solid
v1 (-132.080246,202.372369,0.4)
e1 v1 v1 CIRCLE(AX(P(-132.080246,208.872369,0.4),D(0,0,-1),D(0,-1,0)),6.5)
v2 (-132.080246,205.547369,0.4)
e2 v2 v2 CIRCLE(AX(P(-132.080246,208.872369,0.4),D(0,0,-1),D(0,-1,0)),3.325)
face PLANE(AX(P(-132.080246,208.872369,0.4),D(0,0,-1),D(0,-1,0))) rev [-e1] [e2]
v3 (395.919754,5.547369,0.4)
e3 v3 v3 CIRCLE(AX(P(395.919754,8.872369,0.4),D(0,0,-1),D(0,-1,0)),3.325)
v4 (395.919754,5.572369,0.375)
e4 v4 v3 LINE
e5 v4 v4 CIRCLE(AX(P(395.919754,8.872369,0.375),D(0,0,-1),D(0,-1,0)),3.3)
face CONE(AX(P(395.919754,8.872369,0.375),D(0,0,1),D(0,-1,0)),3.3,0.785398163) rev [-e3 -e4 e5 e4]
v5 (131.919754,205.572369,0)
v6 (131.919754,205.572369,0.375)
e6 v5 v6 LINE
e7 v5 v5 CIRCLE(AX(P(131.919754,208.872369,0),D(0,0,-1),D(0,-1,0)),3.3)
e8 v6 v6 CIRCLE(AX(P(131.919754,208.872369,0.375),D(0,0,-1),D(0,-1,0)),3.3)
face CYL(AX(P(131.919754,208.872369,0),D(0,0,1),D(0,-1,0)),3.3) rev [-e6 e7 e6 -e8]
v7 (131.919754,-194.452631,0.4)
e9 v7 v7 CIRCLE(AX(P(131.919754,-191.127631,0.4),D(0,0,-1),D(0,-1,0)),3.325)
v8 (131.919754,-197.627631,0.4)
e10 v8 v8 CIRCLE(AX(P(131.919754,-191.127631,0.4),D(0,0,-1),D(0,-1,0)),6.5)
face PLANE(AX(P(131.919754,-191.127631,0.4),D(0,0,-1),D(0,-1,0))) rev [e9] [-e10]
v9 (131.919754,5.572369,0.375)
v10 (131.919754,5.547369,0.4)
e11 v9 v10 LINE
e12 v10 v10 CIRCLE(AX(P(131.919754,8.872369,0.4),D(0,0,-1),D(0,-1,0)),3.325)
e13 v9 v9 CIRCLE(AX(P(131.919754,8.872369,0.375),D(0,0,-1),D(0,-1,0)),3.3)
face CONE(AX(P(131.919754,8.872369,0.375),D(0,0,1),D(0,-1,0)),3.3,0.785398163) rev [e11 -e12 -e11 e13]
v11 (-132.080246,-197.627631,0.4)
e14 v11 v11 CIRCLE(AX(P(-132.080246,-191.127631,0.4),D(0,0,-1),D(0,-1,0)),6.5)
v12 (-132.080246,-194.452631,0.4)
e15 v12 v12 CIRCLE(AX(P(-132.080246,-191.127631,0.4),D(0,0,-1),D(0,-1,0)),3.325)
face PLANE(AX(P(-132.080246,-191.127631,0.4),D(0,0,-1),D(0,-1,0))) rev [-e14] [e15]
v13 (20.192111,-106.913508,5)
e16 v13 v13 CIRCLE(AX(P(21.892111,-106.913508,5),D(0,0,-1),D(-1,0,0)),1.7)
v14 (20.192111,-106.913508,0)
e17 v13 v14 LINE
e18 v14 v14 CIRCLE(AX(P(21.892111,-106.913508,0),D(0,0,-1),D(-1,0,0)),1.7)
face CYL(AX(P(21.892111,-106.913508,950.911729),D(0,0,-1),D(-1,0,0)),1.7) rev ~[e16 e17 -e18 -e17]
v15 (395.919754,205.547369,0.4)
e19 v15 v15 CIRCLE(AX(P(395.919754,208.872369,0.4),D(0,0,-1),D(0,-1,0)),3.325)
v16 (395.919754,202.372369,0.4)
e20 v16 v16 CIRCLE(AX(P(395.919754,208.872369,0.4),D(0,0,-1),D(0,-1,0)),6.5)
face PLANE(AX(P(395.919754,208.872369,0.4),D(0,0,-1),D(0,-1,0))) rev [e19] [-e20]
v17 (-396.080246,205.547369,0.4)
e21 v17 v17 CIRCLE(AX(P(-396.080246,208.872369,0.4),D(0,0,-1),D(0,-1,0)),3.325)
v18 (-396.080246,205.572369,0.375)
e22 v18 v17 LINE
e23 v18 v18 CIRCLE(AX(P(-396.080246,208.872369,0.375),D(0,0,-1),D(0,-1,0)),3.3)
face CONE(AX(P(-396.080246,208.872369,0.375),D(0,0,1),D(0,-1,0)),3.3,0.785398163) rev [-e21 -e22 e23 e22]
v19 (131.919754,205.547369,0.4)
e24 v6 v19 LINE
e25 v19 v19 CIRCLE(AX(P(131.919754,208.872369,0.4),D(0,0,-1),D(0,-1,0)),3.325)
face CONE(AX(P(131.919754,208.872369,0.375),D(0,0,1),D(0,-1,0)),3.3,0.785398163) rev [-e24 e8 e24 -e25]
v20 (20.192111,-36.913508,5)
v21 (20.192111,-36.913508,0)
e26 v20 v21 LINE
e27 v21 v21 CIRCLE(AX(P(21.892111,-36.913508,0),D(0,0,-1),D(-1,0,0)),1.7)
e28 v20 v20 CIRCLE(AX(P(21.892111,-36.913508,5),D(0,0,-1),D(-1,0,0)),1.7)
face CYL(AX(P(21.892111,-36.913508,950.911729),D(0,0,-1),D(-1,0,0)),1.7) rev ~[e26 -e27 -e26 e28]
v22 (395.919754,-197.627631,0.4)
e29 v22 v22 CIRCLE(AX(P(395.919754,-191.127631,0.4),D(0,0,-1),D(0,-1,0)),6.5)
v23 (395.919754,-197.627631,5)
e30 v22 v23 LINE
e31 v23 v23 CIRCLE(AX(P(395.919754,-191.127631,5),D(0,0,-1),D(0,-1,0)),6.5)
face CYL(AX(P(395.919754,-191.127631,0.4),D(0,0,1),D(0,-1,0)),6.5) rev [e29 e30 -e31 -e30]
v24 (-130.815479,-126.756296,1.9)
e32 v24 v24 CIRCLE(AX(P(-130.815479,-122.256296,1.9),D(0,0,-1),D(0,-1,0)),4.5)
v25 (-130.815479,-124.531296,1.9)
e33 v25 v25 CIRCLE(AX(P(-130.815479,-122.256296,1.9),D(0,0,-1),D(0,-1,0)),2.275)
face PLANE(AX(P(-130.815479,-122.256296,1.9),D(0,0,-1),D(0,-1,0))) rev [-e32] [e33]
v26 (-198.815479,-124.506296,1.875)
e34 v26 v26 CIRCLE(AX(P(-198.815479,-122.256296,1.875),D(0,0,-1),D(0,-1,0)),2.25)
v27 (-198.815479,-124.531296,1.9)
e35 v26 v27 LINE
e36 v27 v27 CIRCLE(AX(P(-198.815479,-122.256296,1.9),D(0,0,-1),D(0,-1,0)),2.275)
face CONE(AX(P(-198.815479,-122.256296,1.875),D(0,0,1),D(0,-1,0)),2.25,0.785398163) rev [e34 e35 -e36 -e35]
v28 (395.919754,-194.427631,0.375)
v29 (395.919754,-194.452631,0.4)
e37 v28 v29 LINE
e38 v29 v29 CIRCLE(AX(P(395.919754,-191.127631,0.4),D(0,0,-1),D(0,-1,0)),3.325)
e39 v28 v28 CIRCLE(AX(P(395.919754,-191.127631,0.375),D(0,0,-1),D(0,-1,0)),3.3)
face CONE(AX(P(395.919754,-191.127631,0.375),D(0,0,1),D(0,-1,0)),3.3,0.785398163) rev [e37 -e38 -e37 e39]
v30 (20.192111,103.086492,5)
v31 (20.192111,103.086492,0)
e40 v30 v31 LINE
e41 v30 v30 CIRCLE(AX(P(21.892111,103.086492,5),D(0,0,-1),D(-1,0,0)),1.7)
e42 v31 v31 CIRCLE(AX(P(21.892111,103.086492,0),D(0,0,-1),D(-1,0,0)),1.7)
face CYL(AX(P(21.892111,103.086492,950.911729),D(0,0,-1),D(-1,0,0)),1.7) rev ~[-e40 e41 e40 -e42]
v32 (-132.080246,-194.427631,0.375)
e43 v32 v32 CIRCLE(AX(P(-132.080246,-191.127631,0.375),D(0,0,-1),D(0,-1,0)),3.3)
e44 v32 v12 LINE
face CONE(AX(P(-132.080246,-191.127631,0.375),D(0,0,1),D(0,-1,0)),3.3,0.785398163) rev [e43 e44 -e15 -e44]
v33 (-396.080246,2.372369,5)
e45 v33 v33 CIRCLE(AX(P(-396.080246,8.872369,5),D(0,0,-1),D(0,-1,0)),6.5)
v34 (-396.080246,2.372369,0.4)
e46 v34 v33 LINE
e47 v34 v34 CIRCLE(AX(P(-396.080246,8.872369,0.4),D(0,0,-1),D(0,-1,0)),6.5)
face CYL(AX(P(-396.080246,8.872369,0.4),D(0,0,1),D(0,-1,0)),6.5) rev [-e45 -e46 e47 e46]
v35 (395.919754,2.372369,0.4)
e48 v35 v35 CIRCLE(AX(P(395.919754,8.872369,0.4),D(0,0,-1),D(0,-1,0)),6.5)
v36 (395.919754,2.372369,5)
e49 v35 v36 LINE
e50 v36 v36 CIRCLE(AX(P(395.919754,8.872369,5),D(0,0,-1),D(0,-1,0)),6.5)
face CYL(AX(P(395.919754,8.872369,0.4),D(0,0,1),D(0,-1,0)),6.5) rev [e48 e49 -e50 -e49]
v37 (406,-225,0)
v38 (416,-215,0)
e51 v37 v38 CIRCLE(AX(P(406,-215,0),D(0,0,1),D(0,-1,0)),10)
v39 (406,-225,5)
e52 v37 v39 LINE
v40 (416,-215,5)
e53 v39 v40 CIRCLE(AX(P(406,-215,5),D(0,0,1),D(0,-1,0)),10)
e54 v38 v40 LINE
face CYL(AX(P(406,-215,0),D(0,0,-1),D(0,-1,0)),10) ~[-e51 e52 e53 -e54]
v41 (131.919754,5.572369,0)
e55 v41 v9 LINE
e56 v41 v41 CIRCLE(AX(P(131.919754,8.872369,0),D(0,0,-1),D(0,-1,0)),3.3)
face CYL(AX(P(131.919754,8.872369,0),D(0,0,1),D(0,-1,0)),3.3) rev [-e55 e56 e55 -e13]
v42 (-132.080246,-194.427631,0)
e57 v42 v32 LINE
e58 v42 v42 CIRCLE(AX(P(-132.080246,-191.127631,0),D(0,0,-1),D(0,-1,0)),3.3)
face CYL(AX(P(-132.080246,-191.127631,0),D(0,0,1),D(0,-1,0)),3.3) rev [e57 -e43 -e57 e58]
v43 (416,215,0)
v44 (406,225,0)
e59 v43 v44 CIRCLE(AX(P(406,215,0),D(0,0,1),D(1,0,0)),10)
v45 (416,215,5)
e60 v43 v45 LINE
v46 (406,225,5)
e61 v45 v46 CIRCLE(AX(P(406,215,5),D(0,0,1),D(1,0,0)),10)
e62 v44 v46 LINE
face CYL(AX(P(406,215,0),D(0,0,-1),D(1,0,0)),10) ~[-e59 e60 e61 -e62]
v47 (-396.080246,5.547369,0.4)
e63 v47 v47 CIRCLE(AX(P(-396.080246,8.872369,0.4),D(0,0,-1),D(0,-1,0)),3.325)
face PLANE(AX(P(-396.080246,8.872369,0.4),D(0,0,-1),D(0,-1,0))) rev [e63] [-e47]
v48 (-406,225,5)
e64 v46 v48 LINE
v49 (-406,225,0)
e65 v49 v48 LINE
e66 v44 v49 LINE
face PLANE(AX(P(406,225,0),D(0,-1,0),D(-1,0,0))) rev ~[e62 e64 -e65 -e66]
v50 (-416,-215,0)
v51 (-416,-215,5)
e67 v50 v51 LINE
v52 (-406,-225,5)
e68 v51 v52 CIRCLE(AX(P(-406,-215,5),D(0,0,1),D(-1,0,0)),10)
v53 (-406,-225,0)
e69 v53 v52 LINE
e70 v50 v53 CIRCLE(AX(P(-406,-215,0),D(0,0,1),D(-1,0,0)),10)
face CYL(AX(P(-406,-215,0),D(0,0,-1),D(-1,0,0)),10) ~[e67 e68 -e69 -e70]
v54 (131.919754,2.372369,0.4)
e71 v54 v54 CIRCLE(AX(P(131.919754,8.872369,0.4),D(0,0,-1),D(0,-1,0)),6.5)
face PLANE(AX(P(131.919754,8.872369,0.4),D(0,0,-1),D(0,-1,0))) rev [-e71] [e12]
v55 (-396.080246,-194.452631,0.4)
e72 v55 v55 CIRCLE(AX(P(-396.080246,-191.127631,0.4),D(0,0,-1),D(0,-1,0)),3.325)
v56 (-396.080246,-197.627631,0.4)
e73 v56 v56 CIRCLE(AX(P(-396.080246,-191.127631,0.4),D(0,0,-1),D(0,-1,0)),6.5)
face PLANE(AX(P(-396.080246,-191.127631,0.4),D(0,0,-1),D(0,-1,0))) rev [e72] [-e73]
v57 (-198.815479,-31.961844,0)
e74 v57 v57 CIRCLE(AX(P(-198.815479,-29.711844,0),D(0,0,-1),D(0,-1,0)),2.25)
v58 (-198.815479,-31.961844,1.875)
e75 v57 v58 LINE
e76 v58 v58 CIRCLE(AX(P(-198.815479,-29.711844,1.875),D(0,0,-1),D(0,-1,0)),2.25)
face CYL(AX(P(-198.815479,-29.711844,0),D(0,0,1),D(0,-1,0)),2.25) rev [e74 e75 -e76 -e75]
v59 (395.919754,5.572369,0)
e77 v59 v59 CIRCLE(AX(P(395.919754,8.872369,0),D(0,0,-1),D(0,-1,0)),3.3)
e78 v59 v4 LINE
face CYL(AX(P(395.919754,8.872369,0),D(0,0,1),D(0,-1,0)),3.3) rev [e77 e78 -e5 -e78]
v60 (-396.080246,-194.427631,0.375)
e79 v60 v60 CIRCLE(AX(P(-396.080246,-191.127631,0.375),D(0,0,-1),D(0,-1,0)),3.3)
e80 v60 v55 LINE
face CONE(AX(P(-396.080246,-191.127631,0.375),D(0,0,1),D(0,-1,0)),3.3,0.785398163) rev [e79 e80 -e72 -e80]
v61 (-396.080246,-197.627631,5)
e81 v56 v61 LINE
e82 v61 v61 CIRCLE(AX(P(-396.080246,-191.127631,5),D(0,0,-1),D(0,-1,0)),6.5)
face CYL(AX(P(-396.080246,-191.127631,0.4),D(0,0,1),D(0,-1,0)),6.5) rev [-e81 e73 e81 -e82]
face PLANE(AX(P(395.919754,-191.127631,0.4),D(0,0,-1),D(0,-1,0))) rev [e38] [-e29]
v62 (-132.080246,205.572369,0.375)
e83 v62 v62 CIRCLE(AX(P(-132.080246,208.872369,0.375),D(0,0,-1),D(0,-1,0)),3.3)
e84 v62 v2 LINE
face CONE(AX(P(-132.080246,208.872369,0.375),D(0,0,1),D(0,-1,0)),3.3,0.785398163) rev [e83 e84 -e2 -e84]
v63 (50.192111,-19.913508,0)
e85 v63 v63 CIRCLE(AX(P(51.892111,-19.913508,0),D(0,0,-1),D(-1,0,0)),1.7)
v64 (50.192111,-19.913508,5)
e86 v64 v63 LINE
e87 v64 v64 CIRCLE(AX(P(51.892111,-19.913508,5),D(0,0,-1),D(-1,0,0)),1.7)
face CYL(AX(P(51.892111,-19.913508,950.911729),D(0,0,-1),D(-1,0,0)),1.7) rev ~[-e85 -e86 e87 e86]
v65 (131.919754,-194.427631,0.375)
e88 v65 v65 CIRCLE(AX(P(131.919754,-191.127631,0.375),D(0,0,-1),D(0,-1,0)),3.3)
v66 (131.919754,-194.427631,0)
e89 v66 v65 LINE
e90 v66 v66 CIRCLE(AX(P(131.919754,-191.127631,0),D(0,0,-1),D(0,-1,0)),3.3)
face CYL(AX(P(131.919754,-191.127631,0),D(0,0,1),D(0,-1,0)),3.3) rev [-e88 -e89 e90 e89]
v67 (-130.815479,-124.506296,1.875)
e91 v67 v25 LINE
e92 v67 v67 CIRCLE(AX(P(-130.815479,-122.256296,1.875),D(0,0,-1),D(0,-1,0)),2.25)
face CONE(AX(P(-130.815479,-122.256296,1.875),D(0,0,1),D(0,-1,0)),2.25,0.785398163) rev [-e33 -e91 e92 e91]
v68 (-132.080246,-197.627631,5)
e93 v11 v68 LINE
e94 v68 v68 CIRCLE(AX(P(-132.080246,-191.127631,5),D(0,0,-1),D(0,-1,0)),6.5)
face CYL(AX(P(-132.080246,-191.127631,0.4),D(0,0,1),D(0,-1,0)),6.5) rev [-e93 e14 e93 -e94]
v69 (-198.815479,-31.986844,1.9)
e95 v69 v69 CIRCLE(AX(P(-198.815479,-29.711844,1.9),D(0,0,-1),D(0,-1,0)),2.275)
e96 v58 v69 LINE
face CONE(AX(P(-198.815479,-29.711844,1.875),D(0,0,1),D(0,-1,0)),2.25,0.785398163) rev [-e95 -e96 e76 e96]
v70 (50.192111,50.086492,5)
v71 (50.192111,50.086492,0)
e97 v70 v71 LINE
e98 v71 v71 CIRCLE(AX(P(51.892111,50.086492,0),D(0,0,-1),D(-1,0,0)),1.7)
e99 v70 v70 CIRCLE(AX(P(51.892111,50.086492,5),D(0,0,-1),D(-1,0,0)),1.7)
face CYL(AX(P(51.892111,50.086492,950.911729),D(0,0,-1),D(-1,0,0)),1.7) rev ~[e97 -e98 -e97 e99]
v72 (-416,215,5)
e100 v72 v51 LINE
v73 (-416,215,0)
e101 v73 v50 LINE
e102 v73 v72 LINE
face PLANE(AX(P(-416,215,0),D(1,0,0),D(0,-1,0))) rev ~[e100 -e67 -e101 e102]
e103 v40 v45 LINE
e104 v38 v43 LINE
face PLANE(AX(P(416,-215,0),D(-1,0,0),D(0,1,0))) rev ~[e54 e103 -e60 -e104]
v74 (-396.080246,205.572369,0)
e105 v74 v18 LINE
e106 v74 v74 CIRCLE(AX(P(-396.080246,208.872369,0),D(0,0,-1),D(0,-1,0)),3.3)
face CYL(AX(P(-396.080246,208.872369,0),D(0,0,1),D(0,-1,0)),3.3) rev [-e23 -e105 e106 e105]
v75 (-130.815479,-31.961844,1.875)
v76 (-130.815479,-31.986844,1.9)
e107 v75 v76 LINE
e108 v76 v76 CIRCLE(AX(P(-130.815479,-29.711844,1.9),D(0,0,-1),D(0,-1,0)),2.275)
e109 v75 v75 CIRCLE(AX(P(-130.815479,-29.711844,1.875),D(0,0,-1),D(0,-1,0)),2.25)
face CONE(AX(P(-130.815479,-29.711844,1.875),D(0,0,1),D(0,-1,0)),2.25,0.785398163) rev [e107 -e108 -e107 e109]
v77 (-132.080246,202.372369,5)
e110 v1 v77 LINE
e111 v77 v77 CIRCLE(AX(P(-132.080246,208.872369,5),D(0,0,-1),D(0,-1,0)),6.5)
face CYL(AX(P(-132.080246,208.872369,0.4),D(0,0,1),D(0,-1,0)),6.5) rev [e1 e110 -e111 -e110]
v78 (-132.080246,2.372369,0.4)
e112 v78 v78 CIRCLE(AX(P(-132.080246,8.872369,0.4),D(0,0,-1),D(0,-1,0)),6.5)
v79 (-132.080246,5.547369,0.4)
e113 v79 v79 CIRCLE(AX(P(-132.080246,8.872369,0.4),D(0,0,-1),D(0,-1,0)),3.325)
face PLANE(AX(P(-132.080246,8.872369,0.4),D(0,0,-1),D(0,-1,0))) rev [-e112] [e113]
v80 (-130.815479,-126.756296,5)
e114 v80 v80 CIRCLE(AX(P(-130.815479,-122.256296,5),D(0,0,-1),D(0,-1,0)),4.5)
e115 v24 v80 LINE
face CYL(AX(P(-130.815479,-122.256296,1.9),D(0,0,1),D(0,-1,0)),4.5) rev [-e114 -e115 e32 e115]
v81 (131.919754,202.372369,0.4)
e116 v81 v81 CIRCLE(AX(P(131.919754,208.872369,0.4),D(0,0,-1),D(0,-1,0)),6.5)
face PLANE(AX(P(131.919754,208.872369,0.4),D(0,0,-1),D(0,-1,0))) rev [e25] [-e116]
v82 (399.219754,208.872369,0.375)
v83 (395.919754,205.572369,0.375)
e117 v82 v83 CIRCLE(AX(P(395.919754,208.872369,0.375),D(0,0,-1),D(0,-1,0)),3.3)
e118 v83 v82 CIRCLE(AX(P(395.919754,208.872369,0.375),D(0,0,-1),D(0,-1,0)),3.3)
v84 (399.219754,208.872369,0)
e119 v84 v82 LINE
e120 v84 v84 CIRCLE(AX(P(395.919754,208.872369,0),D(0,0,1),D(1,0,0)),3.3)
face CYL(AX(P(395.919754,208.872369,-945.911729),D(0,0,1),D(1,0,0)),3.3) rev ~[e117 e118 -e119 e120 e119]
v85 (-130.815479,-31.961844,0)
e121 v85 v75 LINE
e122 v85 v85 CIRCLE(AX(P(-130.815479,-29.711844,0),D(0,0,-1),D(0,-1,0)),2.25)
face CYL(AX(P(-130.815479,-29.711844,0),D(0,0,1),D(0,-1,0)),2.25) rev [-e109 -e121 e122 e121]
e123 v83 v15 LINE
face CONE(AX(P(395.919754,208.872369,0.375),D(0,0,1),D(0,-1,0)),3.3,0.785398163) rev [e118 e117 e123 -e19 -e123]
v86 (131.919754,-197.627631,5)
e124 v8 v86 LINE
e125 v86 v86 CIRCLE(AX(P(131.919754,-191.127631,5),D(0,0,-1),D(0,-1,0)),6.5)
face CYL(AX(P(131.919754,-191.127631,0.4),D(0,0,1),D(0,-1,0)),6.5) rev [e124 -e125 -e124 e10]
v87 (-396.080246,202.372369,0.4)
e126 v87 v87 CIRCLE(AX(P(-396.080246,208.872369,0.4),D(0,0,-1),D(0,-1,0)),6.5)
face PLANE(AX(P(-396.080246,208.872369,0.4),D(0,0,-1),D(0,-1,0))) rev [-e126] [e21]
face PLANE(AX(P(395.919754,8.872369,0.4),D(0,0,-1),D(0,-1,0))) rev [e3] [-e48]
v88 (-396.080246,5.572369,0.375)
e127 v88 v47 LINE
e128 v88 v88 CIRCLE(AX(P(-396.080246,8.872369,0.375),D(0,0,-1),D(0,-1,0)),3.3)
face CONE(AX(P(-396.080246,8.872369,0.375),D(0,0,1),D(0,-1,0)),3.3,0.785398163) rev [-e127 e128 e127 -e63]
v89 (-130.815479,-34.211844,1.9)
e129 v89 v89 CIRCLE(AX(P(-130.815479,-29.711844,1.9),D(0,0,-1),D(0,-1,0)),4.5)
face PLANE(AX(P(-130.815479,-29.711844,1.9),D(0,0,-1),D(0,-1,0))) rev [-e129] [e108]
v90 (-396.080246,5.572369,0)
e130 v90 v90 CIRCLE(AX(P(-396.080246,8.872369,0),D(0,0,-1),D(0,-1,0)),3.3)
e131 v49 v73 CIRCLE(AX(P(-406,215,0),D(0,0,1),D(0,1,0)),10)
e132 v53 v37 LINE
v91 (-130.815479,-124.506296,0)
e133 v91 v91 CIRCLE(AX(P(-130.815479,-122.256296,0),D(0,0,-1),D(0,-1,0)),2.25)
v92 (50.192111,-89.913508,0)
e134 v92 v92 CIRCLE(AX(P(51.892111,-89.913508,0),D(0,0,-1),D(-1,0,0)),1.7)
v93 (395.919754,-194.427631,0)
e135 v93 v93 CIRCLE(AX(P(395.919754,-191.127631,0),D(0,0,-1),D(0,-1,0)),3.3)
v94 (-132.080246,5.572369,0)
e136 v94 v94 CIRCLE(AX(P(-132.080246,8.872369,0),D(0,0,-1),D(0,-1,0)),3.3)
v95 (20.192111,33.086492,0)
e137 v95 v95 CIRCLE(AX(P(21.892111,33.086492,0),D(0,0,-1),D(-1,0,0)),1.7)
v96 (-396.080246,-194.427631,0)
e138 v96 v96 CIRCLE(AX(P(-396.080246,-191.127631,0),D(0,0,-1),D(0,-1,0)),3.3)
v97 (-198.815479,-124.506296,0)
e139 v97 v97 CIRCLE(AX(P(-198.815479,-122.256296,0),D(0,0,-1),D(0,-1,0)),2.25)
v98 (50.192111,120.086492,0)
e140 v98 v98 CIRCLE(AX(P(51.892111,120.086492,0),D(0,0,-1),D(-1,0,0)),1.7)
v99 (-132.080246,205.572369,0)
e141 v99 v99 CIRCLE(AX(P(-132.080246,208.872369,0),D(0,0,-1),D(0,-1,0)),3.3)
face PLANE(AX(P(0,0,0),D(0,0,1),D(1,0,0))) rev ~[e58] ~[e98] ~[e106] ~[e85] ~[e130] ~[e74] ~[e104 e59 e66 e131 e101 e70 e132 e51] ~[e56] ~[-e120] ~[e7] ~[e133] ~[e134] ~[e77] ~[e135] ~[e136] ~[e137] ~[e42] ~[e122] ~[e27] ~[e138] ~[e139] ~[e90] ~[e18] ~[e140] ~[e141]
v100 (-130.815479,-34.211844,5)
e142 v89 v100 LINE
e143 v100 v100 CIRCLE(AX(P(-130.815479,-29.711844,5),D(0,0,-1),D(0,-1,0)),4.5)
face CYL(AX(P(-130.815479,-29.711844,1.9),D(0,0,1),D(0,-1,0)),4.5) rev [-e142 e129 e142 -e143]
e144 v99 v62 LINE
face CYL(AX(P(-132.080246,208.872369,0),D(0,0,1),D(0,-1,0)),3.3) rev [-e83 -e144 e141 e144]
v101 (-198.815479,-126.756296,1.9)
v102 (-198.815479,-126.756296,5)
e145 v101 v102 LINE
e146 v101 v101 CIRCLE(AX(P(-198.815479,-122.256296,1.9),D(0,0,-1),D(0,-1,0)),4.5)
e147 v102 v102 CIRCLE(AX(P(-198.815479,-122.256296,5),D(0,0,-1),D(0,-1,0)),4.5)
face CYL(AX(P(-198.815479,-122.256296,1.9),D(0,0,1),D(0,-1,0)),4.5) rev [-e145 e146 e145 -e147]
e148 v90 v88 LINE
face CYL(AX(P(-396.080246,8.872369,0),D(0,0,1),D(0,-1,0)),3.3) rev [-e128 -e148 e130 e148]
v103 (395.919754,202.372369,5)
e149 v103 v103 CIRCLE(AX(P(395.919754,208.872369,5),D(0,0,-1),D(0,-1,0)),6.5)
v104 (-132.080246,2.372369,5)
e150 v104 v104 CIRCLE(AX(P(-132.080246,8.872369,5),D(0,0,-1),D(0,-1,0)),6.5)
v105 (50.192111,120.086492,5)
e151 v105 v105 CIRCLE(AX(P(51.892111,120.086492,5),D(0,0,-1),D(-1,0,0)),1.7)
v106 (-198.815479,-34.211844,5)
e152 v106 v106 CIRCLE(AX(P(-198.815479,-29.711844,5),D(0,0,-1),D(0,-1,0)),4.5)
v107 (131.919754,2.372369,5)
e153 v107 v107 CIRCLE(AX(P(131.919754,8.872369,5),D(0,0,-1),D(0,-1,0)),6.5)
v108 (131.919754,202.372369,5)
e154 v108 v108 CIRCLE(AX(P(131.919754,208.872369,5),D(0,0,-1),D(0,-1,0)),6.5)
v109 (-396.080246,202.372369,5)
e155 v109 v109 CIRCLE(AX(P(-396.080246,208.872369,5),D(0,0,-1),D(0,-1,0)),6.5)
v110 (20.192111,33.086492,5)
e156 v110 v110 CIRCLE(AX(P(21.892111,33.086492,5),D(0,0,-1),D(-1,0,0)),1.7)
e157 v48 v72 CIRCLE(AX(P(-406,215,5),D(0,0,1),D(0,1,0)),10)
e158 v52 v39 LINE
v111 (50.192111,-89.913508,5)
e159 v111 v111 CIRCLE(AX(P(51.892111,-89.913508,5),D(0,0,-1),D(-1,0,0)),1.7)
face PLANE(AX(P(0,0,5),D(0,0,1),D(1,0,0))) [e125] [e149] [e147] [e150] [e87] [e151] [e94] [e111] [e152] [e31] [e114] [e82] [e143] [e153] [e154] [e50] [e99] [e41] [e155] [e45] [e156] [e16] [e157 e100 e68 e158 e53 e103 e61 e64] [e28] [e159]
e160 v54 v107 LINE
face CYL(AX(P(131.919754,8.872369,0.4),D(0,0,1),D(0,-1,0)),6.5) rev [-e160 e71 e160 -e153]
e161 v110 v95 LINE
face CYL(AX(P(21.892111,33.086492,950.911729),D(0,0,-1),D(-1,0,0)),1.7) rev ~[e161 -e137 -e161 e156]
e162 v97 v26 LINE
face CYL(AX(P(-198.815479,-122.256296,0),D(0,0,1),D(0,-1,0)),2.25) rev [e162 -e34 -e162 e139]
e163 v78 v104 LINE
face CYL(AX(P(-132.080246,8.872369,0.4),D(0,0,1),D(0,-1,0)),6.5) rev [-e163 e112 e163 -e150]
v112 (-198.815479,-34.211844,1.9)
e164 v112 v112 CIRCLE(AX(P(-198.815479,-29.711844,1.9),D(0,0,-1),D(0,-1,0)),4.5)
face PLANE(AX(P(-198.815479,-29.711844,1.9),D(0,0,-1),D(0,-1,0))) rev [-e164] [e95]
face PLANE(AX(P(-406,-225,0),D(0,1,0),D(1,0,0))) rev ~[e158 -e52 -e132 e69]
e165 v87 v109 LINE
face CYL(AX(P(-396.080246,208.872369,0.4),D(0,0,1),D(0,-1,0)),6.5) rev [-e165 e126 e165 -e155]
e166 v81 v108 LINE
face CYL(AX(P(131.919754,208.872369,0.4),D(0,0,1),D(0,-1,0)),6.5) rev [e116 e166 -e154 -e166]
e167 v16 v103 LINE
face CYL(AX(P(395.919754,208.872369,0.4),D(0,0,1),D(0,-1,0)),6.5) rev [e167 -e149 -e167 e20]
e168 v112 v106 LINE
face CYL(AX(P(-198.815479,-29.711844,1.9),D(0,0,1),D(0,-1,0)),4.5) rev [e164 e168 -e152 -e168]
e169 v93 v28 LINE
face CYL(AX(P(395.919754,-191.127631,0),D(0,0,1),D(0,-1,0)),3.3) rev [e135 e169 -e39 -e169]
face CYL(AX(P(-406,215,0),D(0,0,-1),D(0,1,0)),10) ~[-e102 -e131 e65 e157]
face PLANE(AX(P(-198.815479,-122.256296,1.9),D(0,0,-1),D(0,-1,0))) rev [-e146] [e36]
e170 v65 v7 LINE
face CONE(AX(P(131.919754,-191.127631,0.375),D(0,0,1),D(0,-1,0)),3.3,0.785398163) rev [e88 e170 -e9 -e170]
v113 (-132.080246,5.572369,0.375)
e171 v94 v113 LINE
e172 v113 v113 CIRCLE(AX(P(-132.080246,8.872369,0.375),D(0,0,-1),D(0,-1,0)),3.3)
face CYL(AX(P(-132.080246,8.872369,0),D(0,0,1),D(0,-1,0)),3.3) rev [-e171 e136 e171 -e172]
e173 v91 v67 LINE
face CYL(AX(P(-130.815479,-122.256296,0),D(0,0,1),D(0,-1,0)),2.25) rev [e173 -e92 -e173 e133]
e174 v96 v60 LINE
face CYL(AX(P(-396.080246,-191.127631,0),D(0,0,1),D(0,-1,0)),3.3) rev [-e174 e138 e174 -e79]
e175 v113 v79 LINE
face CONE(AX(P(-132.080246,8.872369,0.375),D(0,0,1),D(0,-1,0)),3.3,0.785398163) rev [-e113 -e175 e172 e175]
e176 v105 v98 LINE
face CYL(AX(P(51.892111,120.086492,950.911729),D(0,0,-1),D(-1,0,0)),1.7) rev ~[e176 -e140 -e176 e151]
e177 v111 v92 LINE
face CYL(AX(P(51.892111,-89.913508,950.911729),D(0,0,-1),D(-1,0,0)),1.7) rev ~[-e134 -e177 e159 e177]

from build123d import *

# Parameters (mm, degrees)
BOSS_EXTRU_1_DEPTH                           = 5
D_GAGEMENT_M61_D                             = 6.6
R_P_TITION_LIN_AIRE1_COUNT                   = 5
R_P_TITION_LIN_AIRE1_PITCH                   = 100
R_P_TITION_LIN_AIRE1_COUNT_DIR2              = 4
R_P_TITION_LIN_AIRE1_PITCH_DIR2              = 264
CHAMBRAGE_POUR_VIS_T_TE_RONDE_BOMB_2_A_COUNT = 2
CHAMBRAGE_POUR_VIS_T_TE_RONDE_BOMB_2_A_PITCH = 92.544451502
R_P_TITION_LIN_AIRE3_COUNT                   = 2
R_P_TITION_LIN_AIRE3_PITCH                   = 68
M3_CLEARANCE_HOLE1_D                         = 3.4
LPATTERN1_COUNT                              = 4
LPATTERN1_PITCH                              = 70


with BuildPart() as part:
    # Esquisse1 → Boss.-Extru.1 (new body)
    with BuildSketch(Plane.XY):
        with BuildLine():
            Line((-406, -225), (406, -225))
            ThreePointArc((406, -225), (413.071067812, -222.071067812), (416, -215))
            Line((416, -215), (416, 215))
            ThreePointArc((416, 215), (413.071067812, 222.071067812), (406, 225))
            Line((406, 225), (-406, 225))
            ThreePointArc((-406, 225), (-413.071067812, 222.071067812), (-416, 215))
            Line((-416, 215), (-416, -215))
            ThreePointArc((-416, -215), (-413.071067812, -222.071067812), (-406, -225))
        make_face()
    extrude(amount=BOSS_EXTRU_1_DEPTH)

    # Dégagement M61 (through all)
    with Locations(Plane(origin=(0, 0, 0), x_dir=(-1, 0, 0), z_dir=(0, 0, -1))):
        with Locations((-395.919753935, 208.872368656)):
            Hole(D_GAGEMENT_M61_D / 2)

    # Esquisse4 → Chambrage pour vis _ t_te ronde bomb_e M (revolve, cut)
    with BuildSketch(Plane(origin=(395.919753935, 208.872368656, 5), x_dir=(0, -1, 0), z_dir=(1, 0, 0))):
        Polygon((0, 0), (0, 5), (3.3, 5), (3.3, 4.625), (3.325, 4.6), (6.5, 4.6), (6.5, 0), align=None)
    chambrage_pour_vis_t_te_ronde_bomb_e_m = revolve(axis=Axis((395.919753935, 208.872368656, 11.35), (0, 0, -1)), mode=Mode.SUBTRACT)

    # Répétition linéaire1: Chambrage pour vis _ t_te ronde bomb_e M 5 × 4, 8 skipped
    with Locations(*[(-j * R_P_TITION_LIN_AIRE1_PITCH_DIR2, -i * R_P_TITION_LIN_AIRE1_PITCH, 0) for i in range(R_P_TITION_LIN_AIRE1_COUNT) for j in range(R_P_TITION_LIN_AIRE1_COUNT_DIR2) if (i, j) not in ((0, 0), (1, 0), (1, 1), (1, 2), (1, 3), (3, 0), (3, 1), (3, 2), (3, 3))]):
        add(chambrage_pour_vis_t_te_ronde_bomb_e_m, mode=Mode.SUBTRACT)

    # Esquisse9 → Chambrage pour vis _ t_te ronde bomb 2 (revolve, cut)
    with BuildSketch(Plane(origin=(-130.81547906, -122.256295557, 5), x_dir=(0, -1, 0), z_dir=(1, 0, 0))):
        Polygon((0, 0), (0, 5), (2.25, 5), (2.25, 3.125), (2.275, 3.1), (4.5, 3.1), (4.5, 0), align=None)
    chambrage_pour_vis_t_te_ronde_bomb_2 = revolve(axis=Axis((-130.81547906, -122.256295557, 11.35), (0, 0, -1)), mode=Mode.SUBTRACT)

    # Chambrage pour vis _ t_te ronde bomb 2 a: Chambrage pour vis _ t_te ronde bomb 2 ×2
    with Locations(*[(0, i * CHAMBRAGE_POUR_VIS_T_TE_RONDE_BOMB_2_A_PITCH, 0) for i in range(1, CHAMBRAGE_POUR_VIS_T_TE_RONDE_BOMB_2_A_COUNT)]):
        add(chambrage_pour_vis_t_te_ronde_bomb_2, mode=Mode.SUBTRACT)

    # Répétition linéaire3: Chambrage pour vis _ t_te ronde bomb 2 ×2
    with Locations(*[(-i * R_P_TITION_LIN_AIRE3_PITCH, 0, 0) for i in range(1, R_P_TITION_LIN_AIRE3_COUNT)]):
        add(chambrage_pour_vis_t_te_ronde_bomb_2, mode=Mode.SUBTRACT)

    # Répétition linéaire3 copy 1 sketch → Répétition linéaire3 copy 1 (revolve, cut)
    with BuildSketch(Plane(origin=(-198.81547906, -29.711844055, 5), x_dir=(0, -1, 0), z_dir=(1, 0, 0))):
        Polygon((0, 0), (0, 5), (2.25, 5), (2.25, 3.125), (2.275, 3.1), (4.5, 3.1), (4.5, 0), align=None)
    revolve(axis=Axis((-198.81547906, -29.711844055, 11.35), (0, 0, -1)), mode=Mode.SUBTRACT)

    # M3 Clearance Hole1 (through all)
    with Locations(Plane.XY.offset(5)):
        with Locations((21.892110814, -106.913508058), (51.892110814, -89.913508058)):
            m3_clearance_hole1 = Hole(M3_CLEARANCE_HOLE1_D / 2)

    # LPattern1: M3 Clearance Hole1 ×4
    with Locations(*[(0, i * LPATTERN1_PITCH, 0) for i in range(1, LPATTERN1_COUNT)]):
        add(m3_clearance_hole1, mode=Mode.SUBTRACT)


solid = part.part
